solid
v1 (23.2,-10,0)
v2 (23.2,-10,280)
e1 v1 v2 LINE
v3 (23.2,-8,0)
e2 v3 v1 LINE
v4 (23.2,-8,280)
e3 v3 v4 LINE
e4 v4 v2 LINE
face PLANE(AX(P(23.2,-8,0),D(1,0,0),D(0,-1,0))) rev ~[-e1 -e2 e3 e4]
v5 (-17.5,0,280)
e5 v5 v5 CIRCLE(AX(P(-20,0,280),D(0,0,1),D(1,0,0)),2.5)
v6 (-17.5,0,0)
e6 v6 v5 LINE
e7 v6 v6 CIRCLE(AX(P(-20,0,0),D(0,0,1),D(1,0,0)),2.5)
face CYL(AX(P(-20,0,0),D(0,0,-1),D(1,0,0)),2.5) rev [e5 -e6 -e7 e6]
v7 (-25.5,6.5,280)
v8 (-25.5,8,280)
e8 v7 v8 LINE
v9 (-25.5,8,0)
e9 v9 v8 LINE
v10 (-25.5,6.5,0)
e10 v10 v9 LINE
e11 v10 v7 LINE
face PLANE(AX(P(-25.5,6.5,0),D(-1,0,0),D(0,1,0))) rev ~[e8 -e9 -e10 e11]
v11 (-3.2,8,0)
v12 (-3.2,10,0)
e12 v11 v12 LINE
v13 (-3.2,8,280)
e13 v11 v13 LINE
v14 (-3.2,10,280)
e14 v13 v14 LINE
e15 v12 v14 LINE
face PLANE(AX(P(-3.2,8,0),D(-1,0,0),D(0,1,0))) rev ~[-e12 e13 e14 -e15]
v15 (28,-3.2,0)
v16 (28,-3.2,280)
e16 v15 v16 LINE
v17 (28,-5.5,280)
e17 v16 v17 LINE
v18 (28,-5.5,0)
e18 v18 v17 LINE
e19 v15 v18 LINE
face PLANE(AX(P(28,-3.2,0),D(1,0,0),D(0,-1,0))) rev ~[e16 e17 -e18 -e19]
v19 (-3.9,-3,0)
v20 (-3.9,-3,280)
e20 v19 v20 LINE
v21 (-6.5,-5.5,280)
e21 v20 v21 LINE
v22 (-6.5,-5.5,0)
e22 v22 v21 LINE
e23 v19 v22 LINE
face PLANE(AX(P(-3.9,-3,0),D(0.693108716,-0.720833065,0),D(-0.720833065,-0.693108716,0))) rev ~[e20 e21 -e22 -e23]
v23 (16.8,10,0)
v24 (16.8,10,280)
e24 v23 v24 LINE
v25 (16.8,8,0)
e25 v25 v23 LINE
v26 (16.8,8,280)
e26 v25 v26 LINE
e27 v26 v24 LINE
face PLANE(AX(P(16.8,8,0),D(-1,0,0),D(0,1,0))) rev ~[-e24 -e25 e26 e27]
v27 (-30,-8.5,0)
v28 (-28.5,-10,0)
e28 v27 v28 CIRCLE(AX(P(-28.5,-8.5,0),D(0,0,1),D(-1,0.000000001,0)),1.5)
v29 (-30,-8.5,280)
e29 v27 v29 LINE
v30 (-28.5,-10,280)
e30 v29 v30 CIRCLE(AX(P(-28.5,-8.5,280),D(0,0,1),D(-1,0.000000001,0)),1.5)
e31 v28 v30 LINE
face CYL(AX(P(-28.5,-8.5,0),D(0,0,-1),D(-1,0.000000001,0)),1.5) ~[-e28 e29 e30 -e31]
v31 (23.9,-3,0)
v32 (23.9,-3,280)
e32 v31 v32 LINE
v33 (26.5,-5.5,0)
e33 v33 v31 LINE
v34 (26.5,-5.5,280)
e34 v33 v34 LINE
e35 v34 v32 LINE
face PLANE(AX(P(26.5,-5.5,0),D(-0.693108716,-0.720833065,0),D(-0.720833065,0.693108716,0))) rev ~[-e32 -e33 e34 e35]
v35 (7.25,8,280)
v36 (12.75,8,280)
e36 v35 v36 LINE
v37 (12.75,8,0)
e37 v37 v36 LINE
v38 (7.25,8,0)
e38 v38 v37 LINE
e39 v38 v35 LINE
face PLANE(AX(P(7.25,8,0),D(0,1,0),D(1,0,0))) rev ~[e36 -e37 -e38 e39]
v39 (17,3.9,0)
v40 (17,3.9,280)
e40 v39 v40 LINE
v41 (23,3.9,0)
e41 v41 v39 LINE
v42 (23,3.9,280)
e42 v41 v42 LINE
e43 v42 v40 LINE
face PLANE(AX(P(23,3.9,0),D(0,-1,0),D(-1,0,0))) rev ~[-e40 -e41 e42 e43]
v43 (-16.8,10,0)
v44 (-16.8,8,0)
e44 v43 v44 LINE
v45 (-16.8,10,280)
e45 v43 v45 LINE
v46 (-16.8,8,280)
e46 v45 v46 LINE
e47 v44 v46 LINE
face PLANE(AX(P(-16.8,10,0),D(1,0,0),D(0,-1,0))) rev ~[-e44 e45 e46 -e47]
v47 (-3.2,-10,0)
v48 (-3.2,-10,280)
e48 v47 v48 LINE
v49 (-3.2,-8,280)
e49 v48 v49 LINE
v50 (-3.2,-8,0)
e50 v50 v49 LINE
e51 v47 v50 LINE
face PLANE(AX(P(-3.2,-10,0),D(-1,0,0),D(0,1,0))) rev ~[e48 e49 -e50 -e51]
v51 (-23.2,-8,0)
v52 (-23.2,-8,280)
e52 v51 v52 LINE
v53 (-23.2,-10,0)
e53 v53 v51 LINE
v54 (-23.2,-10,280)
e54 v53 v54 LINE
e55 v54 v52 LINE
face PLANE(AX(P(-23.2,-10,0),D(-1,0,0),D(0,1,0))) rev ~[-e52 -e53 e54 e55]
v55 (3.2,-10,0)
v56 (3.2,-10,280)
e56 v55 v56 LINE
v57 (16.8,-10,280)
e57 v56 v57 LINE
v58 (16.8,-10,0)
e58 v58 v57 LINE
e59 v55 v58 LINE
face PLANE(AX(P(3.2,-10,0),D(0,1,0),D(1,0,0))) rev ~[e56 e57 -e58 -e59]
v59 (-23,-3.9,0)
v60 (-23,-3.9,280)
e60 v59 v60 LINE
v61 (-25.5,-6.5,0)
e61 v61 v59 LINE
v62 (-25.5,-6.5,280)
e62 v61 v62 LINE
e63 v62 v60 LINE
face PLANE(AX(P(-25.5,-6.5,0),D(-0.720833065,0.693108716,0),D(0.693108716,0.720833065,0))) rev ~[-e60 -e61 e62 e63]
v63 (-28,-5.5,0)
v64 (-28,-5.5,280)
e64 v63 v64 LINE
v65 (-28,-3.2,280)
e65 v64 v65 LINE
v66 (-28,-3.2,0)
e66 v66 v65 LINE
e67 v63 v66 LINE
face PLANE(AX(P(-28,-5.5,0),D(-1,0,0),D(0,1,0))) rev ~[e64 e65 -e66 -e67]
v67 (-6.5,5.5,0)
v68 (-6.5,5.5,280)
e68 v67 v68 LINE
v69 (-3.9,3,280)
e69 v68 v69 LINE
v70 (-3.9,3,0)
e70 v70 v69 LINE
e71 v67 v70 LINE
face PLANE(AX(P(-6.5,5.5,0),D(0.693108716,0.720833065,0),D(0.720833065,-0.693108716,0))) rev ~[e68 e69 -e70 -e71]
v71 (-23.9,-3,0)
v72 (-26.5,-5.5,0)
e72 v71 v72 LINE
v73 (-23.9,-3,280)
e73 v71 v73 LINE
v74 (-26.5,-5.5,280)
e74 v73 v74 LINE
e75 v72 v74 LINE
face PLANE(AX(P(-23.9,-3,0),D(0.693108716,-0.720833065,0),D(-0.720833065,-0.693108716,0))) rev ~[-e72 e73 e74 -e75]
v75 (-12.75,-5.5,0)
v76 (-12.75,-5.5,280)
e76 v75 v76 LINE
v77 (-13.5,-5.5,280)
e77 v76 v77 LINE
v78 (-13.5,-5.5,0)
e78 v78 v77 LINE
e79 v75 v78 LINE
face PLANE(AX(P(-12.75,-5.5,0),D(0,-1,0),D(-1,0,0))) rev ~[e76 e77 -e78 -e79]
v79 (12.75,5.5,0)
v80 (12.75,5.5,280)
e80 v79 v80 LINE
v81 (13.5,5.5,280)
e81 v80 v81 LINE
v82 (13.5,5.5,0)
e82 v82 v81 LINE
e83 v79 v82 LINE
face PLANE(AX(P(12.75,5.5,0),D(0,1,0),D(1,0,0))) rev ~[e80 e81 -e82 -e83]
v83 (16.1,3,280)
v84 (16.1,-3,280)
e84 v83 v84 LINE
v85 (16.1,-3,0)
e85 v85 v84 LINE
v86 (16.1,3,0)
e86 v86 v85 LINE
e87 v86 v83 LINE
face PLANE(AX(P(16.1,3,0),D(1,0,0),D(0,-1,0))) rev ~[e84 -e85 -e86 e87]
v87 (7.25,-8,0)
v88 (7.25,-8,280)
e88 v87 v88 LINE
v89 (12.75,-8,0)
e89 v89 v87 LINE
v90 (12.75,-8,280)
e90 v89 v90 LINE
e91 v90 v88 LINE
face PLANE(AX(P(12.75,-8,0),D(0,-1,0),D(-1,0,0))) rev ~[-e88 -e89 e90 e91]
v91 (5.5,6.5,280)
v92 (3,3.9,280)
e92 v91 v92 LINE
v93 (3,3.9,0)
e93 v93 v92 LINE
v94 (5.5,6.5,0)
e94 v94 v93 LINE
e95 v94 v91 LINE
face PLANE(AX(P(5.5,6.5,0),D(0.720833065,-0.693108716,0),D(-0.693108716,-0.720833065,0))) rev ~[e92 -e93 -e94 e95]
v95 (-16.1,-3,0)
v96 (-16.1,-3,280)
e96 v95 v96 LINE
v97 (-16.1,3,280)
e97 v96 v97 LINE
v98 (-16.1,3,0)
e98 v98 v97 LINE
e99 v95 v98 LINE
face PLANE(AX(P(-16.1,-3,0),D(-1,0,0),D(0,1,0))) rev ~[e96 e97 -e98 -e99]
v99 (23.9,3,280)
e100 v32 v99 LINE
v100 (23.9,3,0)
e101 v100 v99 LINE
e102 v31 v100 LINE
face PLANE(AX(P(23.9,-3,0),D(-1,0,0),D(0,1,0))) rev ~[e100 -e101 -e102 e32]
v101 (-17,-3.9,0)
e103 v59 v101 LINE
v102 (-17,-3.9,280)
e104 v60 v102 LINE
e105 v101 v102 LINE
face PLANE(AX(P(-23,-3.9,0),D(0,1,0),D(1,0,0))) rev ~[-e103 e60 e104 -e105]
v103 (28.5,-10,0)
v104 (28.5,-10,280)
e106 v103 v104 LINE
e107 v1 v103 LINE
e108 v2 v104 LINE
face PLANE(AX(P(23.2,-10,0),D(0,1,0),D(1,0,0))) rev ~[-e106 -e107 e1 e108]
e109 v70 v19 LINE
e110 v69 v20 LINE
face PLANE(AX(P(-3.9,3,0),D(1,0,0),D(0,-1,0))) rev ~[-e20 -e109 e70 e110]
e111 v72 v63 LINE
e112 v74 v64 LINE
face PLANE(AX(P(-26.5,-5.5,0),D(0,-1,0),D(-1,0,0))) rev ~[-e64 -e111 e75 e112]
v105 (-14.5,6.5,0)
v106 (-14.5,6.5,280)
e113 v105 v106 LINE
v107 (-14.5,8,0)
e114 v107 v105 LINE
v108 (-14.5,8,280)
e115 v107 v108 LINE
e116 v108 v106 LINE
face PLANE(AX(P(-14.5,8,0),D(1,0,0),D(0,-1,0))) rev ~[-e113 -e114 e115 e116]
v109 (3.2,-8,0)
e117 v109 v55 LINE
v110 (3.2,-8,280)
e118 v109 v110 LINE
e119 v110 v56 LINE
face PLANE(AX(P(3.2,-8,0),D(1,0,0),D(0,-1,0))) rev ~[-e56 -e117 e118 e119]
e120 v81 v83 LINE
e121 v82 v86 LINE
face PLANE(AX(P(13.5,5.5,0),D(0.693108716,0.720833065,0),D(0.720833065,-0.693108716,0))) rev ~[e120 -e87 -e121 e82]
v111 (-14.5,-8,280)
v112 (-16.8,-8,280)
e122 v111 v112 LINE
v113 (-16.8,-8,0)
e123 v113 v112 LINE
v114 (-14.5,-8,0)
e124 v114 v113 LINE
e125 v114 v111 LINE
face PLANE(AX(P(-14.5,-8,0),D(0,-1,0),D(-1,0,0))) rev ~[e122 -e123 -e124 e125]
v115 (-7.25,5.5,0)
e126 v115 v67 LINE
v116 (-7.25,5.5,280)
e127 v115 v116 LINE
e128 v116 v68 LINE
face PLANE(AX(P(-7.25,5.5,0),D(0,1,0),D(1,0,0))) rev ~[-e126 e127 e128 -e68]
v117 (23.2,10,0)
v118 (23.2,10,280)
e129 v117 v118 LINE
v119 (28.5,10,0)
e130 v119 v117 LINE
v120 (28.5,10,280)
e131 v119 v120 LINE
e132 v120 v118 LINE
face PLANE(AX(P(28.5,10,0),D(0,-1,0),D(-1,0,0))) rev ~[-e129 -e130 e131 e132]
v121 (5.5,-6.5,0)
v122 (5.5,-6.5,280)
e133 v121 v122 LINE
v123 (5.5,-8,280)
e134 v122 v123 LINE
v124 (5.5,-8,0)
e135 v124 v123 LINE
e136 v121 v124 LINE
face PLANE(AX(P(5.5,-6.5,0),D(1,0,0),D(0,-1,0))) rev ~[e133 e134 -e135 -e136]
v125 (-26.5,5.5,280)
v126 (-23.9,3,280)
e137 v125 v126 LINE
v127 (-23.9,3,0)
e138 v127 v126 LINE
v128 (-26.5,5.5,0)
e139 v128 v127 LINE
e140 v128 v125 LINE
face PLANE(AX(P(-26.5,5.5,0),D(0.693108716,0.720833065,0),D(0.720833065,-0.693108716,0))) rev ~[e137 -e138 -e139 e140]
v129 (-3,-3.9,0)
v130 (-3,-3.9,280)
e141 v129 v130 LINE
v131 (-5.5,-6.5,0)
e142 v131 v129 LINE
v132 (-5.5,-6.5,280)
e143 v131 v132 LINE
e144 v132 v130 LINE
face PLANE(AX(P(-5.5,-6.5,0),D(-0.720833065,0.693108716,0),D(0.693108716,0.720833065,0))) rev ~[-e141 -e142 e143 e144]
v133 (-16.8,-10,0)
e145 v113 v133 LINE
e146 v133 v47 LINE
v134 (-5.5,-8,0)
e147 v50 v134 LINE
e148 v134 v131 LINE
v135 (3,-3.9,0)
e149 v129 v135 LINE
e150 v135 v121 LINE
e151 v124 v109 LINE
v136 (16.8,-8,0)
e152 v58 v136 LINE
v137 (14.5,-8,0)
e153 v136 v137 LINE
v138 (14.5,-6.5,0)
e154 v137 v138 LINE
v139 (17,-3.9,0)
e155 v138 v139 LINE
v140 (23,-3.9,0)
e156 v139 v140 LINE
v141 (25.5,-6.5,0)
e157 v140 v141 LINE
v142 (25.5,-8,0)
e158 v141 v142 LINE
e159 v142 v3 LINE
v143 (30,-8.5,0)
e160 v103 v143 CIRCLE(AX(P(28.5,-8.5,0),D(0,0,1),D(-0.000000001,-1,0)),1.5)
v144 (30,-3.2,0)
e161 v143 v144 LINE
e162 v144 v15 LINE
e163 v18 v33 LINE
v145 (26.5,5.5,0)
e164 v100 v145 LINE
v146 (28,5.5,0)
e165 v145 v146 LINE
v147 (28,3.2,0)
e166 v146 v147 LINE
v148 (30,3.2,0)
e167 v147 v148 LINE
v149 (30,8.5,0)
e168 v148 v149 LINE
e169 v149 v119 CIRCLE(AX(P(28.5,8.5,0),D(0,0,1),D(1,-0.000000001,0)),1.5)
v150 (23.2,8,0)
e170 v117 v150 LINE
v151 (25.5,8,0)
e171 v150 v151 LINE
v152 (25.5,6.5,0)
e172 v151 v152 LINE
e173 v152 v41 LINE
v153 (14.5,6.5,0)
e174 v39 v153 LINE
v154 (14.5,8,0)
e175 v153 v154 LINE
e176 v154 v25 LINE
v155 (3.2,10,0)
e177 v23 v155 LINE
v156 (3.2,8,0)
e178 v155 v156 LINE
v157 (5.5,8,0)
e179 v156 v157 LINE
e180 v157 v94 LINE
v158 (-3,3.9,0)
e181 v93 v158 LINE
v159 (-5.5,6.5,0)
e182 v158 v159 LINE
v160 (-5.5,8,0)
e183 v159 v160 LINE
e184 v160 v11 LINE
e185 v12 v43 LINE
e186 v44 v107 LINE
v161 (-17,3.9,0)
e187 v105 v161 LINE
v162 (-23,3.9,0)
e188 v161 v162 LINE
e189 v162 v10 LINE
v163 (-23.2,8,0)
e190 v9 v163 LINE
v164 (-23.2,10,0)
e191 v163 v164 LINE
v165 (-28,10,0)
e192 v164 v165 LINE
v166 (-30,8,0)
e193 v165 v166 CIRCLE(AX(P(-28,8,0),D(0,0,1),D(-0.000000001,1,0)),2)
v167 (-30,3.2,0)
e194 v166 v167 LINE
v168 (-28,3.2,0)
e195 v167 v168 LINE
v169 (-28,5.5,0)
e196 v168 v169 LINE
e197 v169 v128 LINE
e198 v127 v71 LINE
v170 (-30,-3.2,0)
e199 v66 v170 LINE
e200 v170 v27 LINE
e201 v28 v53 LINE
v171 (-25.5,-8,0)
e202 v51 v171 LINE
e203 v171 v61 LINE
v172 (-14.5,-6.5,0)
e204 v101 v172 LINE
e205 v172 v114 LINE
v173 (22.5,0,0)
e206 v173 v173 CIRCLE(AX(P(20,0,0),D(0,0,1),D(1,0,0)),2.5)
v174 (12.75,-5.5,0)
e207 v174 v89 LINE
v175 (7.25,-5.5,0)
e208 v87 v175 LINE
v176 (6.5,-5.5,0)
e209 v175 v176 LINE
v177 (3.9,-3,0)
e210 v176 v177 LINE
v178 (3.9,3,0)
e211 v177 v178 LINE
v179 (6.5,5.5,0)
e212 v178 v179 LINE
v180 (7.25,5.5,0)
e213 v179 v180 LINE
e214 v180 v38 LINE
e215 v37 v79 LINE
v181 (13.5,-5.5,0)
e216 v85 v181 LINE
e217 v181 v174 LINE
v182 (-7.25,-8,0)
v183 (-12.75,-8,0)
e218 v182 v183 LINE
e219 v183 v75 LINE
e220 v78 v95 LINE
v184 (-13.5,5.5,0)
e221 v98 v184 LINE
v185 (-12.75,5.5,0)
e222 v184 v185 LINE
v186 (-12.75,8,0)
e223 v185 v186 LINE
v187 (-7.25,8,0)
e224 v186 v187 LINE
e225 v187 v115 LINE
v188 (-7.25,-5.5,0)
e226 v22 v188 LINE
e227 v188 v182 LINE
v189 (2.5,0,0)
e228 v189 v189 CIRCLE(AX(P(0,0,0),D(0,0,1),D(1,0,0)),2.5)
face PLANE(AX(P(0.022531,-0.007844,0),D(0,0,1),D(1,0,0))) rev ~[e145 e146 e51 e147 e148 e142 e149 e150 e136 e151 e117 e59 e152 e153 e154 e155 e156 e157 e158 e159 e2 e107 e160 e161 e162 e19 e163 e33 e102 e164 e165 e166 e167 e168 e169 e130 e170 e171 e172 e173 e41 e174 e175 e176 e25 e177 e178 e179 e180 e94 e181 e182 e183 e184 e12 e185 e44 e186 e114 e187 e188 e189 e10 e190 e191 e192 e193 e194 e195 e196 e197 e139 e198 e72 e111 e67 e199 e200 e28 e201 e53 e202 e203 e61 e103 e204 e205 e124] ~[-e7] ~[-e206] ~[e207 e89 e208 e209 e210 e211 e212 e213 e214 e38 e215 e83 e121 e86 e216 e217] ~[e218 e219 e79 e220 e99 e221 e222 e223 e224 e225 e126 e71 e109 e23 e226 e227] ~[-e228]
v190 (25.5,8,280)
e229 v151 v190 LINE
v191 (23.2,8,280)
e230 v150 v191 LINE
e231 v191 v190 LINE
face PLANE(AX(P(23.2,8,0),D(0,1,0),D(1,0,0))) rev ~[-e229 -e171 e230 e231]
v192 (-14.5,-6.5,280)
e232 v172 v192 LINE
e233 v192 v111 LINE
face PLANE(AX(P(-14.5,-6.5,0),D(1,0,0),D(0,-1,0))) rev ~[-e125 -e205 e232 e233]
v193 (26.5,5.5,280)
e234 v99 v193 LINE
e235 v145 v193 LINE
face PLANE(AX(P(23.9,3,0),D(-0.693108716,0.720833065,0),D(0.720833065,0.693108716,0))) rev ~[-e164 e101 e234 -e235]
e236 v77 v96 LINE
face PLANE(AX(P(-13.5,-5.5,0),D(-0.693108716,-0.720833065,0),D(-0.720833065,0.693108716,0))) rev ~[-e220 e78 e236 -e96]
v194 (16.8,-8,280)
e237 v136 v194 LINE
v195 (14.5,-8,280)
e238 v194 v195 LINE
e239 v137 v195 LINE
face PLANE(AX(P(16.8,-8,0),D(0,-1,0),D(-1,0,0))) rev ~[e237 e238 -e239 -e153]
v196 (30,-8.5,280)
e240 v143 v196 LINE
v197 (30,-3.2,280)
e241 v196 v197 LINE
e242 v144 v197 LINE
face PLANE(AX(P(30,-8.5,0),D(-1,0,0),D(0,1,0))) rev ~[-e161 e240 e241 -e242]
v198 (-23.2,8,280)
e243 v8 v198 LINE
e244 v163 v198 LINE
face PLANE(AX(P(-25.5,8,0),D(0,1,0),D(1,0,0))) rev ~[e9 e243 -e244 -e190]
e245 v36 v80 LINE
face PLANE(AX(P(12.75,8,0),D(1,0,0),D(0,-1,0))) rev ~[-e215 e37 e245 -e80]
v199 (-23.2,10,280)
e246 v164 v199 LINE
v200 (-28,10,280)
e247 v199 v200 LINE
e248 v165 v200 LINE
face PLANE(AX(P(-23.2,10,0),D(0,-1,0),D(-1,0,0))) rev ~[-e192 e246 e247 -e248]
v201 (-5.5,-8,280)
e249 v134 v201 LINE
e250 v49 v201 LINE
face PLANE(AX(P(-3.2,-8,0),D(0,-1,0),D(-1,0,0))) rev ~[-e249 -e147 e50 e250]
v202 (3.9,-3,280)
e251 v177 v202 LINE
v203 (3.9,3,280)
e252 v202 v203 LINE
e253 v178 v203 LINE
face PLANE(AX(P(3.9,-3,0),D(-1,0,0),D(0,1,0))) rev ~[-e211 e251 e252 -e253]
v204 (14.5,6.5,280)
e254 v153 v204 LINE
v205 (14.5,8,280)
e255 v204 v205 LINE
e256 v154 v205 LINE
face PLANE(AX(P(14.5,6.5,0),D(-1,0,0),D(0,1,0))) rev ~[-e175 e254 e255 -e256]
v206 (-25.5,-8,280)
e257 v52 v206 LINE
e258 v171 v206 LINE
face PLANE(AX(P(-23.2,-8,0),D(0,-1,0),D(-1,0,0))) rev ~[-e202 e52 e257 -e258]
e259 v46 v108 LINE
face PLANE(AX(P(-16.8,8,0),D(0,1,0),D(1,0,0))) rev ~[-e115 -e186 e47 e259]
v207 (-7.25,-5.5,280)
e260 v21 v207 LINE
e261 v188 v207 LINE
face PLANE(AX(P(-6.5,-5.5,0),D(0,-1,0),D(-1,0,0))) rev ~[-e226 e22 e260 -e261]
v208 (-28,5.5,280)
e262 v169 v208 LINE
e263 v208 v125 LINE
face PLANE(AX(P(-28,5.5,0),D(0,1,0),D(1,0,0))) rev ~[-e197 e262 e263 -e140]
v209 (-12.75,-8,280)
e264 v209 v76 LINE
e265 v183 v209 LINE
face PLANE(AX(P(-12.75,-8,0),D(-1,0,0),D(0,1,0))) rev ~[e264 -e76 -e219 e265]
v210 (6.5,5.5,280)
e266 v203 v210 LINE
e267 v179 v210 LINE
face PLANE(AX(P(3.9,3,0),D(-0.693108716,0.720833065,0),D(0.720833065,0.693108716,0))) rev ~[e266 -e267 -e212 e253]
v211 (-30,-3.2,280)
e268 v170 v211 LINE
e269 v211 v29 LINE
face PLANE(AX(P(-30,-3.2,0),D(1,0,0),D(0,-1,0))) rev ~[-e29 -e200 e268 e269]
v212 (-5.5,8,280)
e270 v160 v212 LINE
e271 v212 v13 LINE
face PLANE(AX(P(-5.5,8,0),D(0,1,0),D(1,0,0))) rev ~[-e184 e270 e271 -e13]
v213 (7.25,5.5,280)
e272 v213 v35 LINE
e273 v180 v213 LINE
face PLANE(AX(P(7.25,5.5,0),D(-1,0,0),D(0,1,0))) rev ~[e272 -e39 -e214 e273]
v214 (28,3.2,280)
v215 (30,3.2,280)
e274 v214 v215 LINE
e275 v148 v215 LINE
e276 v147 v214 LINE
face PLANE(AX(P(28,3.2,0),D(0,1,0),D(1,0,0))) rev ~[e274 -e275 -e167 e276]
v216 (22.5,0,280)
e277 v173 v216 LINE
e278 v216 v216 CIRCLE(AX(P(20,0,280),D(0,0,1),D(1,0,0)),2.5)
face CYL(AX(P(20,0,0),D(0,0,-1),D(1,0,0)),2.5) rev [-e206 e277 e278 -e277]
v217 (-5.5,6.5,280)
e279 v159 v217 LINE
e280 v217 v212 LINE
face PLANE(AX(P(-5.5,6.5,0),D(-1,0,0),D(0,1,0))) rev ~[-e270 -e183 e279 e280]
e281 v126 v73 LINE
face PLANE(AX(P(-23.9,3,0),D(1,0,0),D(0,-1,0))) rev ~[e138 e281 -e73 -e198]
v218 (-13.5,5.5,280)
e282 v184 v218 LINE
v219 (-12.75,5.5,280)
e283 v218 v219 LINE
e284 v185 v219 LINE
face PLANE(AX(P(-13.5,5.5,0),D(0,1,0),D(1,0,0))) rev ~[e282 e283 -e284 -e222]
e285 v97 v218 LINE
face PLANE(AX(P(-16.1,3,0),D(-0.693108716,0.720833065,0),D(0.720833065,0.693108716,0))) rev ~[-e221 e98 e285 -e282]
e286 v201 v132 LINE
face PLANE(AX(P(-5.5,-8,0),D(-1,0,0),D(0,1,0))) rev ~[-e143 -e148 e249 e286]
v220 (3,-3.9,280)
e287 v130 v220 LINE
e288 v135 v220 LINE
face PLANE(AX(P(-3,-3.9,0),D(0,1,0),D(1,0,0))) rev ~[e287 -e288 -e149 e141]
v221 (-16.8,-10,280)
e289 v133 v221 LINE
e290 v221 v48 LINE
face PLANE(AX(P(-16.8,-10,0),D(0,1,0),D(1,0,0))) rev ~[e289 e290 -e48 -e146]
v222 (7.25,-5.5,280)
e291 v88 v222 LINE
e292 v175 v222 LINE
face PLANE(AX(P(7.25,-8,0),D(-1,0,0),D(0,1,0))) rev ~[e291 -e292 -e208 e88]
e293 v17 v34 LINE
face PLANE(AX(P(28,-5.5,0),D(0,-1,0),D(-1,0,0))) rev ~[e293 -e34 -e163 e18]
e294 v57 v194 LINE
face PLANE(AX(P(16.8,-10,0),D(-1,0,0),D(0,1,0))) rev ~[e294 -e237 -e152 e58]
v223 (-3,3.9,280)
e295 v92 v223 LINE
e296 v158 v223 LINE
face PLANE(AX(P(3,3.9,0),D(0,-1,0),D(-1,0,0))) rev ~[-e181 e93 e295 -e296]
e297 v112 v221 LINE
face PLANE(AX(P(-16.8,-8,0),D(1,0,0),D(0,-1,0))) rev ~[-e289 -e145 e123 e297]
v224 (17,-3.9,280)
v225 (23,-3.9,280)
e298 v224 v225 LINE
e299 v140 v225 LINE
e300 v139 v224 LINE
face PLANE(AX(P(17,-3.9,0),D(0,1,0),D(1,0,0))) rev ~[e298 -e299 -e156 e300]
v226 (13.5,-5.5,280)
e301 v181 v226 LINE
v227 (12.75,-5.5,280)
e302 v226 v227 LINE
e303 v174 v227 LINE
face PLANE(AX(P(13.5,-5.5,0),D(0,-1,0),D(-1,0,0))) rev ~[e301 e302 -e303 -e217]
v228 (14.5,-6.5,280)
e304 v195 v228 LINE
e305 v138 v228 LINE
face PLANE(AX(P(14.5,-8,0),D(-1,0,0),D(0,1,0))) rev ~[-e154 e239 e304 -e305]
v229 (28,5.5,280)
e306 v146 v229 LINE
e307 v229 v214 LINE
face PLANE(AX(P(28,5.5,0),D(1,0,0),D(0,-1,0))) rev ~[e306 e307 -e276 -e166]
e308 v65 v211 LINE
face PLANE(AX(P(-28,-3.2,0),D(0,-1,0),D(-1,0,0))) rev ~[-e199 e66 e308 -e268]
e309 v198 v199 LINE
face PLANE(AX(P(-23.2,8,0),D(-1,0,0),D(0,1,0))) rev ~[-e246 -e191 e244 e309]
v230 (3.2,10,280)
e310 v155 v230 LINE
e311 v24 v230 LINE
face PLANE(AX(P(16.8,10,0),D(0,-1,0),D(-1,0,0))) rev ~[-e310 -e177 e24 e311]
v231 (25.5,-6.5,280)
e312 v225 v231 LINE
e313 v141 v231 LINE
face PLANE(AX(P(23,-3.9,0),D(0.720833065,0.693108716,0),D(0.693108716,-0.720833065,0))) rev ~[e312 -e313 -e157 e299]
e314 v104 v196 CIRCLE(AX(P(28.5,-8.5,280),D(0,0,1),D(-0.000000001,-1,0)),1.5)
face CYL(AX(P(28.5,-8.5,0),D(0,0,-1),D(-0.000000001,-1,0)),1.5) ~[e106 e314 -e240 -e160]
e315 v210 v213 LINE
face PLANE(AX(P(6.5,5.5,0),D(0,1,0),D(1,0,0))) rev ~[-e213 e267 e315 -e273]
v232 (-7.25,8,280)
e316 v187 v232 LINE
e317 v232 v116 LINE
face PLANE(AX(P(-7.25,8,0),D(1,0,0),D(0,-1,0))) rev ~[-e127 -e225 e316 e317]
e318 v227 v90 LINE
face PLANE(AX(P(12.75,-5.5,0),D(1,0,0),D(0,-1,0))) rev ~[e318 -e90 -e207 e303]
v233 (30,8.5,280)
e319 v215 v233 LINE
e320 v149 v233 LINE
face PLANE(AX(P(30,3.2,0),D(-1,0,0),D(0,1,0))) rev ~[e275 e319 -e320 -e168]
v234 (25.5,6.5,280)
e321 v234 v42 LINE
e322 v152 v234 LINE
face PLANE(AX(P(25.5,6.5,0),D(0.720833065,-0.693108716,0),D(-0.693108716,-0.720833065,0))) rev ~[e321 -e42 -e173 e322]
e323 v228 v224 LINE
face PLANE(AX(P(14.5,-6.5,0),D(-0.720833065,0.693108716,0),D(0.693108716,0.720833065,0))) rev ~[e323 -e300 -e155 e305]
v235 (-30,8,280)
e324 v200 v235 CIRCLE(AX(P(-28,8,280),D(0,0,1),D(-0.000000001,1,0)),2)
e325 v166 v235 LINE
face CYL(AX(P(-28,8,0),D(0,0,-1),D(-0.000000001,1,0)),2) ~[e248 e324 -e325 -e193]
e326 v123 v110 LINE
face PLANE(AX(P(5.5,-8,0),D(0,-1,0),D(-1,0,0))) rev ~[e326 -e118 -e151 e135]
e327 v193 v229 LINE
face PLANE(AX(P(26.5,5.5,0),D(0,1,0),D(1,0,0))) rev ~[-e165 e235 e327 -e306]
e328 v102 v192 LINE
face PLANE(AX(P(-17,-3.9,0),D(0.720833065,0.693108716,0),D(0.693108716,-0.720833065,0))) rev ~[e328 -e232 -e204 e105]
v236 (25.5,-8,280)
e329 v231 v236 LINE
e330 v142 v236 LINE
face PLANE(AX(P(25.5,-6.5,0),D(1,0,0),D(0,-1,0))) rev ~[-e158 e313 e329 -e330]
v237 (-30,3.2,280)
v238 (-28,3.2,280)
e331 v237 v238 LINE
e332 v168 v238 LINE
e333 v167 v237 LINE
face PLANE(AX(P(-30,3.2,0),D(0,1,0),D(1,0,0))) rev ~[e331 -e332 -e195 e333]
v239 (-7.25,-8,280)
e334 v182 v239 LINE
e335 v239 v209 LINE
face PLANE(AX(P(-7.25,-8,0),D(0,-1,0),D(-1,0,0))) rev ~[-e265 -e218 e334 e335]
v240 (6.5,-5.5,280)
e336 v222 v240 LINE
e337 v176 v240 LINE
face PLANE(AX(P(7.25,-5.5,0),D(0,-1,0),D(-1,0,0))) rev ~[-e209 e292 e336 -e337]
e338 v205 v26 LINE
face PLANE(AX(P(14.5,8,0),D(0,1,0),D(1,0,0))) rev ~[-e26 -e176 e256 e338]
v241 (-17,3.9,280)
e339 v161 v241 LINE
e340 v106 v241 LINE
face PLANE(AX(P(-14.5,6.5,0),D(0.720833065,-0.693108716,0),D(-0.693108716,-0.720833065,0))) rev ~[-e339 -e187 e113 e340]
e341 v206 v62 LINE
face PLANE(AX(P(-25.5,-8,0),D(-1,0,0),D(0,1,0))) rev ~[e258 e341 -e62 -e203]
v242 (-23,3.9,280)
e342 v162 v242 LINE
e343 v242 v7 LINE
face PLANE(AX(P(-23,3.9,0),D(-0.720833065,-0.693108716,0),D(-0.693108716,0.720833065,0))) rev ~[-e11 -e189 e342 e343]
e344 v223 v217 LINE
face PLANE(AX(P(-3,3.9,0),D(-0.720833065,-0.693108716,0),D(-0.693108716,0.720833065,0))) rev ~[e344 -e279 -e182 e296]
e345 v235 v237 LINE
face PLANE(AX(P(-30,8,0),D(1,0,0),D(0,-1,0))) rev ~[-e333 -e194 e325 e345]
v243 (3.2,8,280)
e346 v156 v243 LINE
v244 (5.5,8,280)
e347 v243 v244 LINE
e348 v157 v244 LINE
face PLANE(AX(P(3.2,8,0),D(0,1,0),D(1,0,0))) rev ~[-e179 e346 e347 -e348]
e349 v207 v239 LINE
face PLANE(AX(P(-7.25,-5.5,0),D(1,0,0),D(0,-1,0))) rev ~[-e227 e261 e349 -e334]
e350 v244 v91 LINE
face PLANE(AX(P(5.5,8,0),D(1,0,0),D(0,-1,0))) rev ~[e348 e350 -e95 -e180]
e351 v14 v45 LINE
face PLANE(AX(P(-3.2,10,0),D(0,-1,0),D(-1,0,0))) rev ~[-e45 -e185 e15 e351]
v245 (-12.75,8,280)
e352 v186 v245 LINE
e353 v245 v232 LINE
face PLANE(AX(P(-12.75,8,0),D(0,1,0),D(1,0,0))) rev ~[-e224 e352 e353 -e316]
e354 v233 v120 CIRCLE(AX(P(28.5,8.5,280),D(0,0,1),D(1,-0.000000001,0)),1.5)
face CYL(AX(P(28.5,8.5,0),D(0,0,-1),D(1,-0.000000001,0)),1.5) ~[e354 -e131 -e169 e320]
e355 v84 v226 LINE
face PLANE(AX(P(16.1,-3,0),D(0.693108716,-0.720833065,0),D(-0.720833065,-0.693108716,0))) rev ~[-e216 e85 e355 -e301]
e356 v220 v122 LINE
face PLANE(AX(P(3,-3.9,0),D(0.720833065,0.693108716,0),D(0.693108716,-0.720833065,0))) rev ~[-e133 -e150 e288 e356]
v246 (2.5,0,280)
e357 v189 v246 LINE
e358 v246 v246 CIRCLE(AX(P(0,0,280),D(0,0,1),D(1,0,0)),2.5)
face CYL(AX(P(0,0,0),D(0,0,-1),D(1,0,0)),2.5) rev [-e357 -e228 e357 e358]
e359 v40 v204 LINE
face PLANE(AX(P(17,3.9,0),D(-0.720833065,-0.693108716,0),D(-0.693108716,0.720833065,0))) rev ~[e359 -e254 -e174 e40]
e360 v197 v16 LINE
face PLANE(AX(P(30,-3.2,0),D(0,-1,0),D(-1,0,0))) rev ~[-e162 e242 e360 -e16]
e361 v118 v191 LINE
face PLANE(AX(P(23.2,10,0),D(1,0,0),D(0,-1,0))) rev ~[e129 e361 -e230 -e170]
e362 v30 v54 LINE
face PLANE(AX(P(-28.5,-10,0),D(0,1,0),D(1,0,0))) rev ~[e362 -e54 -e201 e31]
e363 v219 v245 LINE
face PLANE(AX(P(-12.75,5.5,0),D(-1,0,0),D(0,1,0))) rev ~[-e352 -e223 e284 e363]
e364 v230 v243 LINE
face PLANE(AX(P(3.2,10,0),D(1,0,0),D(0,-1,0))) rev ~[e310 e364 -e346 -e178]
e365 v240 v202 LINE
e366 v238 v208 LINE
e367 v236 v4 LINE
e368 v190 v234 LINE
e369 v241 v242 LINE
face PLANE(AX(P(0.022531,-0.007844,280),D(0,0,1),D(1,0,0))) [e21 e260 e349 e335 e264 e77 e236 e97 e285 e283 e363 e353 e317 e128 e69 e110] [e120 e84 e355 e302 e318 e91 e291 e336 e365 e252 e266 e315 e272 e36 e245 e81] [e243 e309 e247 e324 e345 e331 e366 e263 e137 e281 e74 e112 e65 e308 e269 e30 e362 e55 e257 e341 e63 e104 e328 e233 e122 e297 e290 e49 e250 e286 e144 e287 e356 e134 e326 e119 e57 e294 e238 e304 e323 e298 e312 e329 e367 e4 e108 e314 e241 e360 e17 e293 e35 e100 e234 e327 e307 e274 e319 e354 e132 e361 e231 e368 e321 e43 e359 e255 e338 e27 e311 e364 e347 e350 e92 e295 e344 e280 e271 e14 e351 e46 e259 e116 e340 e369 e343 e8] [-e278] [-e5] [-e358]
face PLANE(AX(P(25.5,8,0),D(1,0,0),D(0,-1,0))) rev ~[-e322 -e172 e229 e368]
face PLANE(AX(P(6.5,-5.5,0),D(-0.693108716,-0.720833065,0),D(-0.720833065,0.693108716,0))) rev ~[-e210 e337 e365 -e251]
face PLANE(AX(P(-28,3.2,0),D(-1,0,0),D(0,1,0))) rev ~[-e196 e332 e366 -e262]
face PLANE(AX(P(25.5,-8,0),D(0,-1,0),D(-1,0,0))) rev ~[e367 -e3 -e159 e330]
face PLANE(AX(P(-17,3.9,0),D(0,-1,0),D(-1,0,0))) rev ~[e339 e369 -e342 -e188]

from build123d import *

# Parameters (mm, degrees)
SKETCH_1_R      = 2.5
EXTRUDE_2_DEPTH = 280


with BuildPart() as part:
    # 草图1 → 凸台-拉伸2 (new body)
    with BuildSketch(Plane.XY):
        with BuildLine():
            Line((-23.2, 10), (-28, 10))
            ThreePointArc((-28, 10), (-29.414213562, 9.414213562), (-30, 8))
            Line((-30, 8), (-30, 3.2))
            Line((-30, 3.2), (-28, 3.2))
            Line((-28, 3.2), (-28, 5.5))
            Line((-28, 5.5), (-26.5, 5.5))
            Line((-26.5, 5.5), (-23.9, 3))
            Line((-23.9, 3), (-23.9, -3))
            Line((-23.9, -3), (-26.5, -5.5))
            Line((-26.5, -5.5), (-28, -5.5))
            Line((-28, -5.5), (-28, -3.2))
            Line((-28, -3.2), (-30, -3.2))
            Line((-30, -3.2), (-30, -8.5))
            ThreePointArc((-30, -8.5), (-29.560660172, -9.560660172), (-28.5, -10))
            Line((-28.5, -10), (-23.2, -10))
            Line((-23.2, -10), (-23.2, -8))
            Line((-23.2, -8), (-25.5, -8))
            Line((-25.5, -8), (-25.5, -6.5))
            Line((-25.5, -6.5), (-23, -3.9))
            Line((-23, -3.9), (-17, -3.9))
            Line((-17, -3.9), (-14.5, -6.5))
            Line((-14.5, -6.5), (-14.5, -8))
            Line((-14.5, -8), (-16.8, -8))
            Line((-16.8, -8), (-16.8, -10))
            Line((-16.8, -10), (-3.2, -10))
            Line((-3.2, -10), (-3.2, -8))
            Line((-3.2, -8), (-5.5, -8))
            Line((-5.5, -8), (-5.5, -6.5))
            Line((-5.5, -6.5), (-3, -3.9))
            Line((-3, -3.9), (3, -3.9))
            Line((3, -3.9), (5.5, -6.5))
            Line((5.5, -6.5), (5.5, -8))
            Line((5.5, -8), (3.2, -8))
            Line((3.2, -8), (3.2, -10))
            Line((3.2, -10), (16.8, -10))
            Line((16.8, -10), (16.8, -8))
            Line((16.8, -8), (14.5, -8))
            Line((14.5, -8), (14.5, -6.5))
            Line((14.5, -6.5), (17, -3.9))
            Line((17, -3.9), (23, -3.9))
            Line((23, -3.9), (25.5, -6.5))
            Line((25.5, -6.5), (25.5, -8))
            Line((25.5, -8), (23.2, -8))
            Line((23.2, -8), (23.2, -10))
            Line((23.2, -10), (28.5, -10))
            ThreePointArc((28.5, -10), (29.560660172, -9.560660172), (30, -8.5))
            Line((30, -8.5), (30, -3.2))
            Line((30, -3.2), (28, -3.2))
            Line((28, -3.2), (28, -5.5))
            Line((28, -5.5), (26.5, -5.5))
            Line((26.5, -5.5), (23.9, -3))
            Line((23.9, -3), (23.9, 3))
            Line((23.9, 3), (26.5, 5.5))
            Line((26.5, 5.5), (28, 5.5))
            Line((28, 5.5), (28, 3.2))
            Line((28, 3.2), (30, 3.2))
            Line((30, 3.2), (30, 8.5))
            ThreePointArc((30, 8.5), (29.560660172, 9.560660172), (28.5, 10))
            Line((28.5, 10), (23.2, 10))
            Line((23.2, 10), (23.2, 8))
            Line((23.2, 8), (25.5, 8))
            Line((25.5, 8), (25.5, 6.5))
            Line((25.5, 6.5), (23, 3.9))
            Line((23, 3.9), (17, 3.9))
            Line((17, 3.9), (14.5, 6.5))
            Line((14.5, 6.5), (14.5, 8))
            Line((14.5, 8), (16.8, 8))
            Line((16.8, 8), (16.8, 10))
            Line((16.8, 10), (3.2, 10))
            Line((3.2, 10), (3.2, 8))
            Line((3.2, 8), (5.5, 8))
            Line((5.5, 8), (5.5, 6.5))
            Line((5.5, 6.5), (3, 3.9))
            Line((3, 3.9), (-3, 3.9))
            Line((-3, 3.9), (-5.5, 6.5))
            Line((-5.5, 6.5), (-5.5, 8))
            Line((-5.5, 8), (-3.2, 8))
            Line((-3.2, 8), (-3.2, 10))
            Line((-3.2, 10), (-16.8, 10))
            Line((-16.8, 10), (-16.8, 8))
            Line((-16.8, 8), (-14.5, 8))
            Line((-14.5, 8), (-14.5, 6.5))
            Line((-14.5, 6.5), (-17, 3.9))
            Line((-17, 3.9), (-23, 3.9))
            Line((-23, 3.9), (-25.5, 6.5))
            Line((-25.5, 6.5), (-25.5, 8))
            Line((-25.5, 8), (-23.2, 8))
            Line((-23.2, 8), (-23.2, 10))
        make_face()
        Polygon((-12.75, -8), (-12.75, -5.5), (-13.5, -5.5), (-16.1, -3), (-16.1, 3), (-13.5, 5.5), (-12.75, 5.5), (-12.75, 8), (-7.25, 8), (-7.25, 5.5), (-6.5, 5.5), (-3.9, 3), (-3.9, -3), (-6.5, -5.5), (-7.25, -5.5), (-7.25, -8), align=None, mode=Mode.SUBTRACT)
        Polygon((6.5, -5.5), (3.9, -3), (3.9, 3), (6.5, 5.5), (7.25, 5.5), (7.25, 8), (12.75, 8), (12.75, 5.5), (13.5, 5.5), (16.1, 3), (16.1, -3), (13.5, -5.5), (12.75, -5.5), (12.75, -8), (7.25, -8), (7.25, -5.5), align=None, mode=Mode.SUBTRACT)
        with Locations((20, 0)):
            Circle(SKETCH_1_R, mode=Mode.SUBTRACT)
        with Locations((-20, 0)):
            Circle(SKETCH_1_R, mode=Mode.SUBTRACT)
        Circle(SKETCH_1_R, mode=Mode.SUBTRACT)
    extrude(amount=EXTRUDE_2_DEPTH)


solid = part.part
